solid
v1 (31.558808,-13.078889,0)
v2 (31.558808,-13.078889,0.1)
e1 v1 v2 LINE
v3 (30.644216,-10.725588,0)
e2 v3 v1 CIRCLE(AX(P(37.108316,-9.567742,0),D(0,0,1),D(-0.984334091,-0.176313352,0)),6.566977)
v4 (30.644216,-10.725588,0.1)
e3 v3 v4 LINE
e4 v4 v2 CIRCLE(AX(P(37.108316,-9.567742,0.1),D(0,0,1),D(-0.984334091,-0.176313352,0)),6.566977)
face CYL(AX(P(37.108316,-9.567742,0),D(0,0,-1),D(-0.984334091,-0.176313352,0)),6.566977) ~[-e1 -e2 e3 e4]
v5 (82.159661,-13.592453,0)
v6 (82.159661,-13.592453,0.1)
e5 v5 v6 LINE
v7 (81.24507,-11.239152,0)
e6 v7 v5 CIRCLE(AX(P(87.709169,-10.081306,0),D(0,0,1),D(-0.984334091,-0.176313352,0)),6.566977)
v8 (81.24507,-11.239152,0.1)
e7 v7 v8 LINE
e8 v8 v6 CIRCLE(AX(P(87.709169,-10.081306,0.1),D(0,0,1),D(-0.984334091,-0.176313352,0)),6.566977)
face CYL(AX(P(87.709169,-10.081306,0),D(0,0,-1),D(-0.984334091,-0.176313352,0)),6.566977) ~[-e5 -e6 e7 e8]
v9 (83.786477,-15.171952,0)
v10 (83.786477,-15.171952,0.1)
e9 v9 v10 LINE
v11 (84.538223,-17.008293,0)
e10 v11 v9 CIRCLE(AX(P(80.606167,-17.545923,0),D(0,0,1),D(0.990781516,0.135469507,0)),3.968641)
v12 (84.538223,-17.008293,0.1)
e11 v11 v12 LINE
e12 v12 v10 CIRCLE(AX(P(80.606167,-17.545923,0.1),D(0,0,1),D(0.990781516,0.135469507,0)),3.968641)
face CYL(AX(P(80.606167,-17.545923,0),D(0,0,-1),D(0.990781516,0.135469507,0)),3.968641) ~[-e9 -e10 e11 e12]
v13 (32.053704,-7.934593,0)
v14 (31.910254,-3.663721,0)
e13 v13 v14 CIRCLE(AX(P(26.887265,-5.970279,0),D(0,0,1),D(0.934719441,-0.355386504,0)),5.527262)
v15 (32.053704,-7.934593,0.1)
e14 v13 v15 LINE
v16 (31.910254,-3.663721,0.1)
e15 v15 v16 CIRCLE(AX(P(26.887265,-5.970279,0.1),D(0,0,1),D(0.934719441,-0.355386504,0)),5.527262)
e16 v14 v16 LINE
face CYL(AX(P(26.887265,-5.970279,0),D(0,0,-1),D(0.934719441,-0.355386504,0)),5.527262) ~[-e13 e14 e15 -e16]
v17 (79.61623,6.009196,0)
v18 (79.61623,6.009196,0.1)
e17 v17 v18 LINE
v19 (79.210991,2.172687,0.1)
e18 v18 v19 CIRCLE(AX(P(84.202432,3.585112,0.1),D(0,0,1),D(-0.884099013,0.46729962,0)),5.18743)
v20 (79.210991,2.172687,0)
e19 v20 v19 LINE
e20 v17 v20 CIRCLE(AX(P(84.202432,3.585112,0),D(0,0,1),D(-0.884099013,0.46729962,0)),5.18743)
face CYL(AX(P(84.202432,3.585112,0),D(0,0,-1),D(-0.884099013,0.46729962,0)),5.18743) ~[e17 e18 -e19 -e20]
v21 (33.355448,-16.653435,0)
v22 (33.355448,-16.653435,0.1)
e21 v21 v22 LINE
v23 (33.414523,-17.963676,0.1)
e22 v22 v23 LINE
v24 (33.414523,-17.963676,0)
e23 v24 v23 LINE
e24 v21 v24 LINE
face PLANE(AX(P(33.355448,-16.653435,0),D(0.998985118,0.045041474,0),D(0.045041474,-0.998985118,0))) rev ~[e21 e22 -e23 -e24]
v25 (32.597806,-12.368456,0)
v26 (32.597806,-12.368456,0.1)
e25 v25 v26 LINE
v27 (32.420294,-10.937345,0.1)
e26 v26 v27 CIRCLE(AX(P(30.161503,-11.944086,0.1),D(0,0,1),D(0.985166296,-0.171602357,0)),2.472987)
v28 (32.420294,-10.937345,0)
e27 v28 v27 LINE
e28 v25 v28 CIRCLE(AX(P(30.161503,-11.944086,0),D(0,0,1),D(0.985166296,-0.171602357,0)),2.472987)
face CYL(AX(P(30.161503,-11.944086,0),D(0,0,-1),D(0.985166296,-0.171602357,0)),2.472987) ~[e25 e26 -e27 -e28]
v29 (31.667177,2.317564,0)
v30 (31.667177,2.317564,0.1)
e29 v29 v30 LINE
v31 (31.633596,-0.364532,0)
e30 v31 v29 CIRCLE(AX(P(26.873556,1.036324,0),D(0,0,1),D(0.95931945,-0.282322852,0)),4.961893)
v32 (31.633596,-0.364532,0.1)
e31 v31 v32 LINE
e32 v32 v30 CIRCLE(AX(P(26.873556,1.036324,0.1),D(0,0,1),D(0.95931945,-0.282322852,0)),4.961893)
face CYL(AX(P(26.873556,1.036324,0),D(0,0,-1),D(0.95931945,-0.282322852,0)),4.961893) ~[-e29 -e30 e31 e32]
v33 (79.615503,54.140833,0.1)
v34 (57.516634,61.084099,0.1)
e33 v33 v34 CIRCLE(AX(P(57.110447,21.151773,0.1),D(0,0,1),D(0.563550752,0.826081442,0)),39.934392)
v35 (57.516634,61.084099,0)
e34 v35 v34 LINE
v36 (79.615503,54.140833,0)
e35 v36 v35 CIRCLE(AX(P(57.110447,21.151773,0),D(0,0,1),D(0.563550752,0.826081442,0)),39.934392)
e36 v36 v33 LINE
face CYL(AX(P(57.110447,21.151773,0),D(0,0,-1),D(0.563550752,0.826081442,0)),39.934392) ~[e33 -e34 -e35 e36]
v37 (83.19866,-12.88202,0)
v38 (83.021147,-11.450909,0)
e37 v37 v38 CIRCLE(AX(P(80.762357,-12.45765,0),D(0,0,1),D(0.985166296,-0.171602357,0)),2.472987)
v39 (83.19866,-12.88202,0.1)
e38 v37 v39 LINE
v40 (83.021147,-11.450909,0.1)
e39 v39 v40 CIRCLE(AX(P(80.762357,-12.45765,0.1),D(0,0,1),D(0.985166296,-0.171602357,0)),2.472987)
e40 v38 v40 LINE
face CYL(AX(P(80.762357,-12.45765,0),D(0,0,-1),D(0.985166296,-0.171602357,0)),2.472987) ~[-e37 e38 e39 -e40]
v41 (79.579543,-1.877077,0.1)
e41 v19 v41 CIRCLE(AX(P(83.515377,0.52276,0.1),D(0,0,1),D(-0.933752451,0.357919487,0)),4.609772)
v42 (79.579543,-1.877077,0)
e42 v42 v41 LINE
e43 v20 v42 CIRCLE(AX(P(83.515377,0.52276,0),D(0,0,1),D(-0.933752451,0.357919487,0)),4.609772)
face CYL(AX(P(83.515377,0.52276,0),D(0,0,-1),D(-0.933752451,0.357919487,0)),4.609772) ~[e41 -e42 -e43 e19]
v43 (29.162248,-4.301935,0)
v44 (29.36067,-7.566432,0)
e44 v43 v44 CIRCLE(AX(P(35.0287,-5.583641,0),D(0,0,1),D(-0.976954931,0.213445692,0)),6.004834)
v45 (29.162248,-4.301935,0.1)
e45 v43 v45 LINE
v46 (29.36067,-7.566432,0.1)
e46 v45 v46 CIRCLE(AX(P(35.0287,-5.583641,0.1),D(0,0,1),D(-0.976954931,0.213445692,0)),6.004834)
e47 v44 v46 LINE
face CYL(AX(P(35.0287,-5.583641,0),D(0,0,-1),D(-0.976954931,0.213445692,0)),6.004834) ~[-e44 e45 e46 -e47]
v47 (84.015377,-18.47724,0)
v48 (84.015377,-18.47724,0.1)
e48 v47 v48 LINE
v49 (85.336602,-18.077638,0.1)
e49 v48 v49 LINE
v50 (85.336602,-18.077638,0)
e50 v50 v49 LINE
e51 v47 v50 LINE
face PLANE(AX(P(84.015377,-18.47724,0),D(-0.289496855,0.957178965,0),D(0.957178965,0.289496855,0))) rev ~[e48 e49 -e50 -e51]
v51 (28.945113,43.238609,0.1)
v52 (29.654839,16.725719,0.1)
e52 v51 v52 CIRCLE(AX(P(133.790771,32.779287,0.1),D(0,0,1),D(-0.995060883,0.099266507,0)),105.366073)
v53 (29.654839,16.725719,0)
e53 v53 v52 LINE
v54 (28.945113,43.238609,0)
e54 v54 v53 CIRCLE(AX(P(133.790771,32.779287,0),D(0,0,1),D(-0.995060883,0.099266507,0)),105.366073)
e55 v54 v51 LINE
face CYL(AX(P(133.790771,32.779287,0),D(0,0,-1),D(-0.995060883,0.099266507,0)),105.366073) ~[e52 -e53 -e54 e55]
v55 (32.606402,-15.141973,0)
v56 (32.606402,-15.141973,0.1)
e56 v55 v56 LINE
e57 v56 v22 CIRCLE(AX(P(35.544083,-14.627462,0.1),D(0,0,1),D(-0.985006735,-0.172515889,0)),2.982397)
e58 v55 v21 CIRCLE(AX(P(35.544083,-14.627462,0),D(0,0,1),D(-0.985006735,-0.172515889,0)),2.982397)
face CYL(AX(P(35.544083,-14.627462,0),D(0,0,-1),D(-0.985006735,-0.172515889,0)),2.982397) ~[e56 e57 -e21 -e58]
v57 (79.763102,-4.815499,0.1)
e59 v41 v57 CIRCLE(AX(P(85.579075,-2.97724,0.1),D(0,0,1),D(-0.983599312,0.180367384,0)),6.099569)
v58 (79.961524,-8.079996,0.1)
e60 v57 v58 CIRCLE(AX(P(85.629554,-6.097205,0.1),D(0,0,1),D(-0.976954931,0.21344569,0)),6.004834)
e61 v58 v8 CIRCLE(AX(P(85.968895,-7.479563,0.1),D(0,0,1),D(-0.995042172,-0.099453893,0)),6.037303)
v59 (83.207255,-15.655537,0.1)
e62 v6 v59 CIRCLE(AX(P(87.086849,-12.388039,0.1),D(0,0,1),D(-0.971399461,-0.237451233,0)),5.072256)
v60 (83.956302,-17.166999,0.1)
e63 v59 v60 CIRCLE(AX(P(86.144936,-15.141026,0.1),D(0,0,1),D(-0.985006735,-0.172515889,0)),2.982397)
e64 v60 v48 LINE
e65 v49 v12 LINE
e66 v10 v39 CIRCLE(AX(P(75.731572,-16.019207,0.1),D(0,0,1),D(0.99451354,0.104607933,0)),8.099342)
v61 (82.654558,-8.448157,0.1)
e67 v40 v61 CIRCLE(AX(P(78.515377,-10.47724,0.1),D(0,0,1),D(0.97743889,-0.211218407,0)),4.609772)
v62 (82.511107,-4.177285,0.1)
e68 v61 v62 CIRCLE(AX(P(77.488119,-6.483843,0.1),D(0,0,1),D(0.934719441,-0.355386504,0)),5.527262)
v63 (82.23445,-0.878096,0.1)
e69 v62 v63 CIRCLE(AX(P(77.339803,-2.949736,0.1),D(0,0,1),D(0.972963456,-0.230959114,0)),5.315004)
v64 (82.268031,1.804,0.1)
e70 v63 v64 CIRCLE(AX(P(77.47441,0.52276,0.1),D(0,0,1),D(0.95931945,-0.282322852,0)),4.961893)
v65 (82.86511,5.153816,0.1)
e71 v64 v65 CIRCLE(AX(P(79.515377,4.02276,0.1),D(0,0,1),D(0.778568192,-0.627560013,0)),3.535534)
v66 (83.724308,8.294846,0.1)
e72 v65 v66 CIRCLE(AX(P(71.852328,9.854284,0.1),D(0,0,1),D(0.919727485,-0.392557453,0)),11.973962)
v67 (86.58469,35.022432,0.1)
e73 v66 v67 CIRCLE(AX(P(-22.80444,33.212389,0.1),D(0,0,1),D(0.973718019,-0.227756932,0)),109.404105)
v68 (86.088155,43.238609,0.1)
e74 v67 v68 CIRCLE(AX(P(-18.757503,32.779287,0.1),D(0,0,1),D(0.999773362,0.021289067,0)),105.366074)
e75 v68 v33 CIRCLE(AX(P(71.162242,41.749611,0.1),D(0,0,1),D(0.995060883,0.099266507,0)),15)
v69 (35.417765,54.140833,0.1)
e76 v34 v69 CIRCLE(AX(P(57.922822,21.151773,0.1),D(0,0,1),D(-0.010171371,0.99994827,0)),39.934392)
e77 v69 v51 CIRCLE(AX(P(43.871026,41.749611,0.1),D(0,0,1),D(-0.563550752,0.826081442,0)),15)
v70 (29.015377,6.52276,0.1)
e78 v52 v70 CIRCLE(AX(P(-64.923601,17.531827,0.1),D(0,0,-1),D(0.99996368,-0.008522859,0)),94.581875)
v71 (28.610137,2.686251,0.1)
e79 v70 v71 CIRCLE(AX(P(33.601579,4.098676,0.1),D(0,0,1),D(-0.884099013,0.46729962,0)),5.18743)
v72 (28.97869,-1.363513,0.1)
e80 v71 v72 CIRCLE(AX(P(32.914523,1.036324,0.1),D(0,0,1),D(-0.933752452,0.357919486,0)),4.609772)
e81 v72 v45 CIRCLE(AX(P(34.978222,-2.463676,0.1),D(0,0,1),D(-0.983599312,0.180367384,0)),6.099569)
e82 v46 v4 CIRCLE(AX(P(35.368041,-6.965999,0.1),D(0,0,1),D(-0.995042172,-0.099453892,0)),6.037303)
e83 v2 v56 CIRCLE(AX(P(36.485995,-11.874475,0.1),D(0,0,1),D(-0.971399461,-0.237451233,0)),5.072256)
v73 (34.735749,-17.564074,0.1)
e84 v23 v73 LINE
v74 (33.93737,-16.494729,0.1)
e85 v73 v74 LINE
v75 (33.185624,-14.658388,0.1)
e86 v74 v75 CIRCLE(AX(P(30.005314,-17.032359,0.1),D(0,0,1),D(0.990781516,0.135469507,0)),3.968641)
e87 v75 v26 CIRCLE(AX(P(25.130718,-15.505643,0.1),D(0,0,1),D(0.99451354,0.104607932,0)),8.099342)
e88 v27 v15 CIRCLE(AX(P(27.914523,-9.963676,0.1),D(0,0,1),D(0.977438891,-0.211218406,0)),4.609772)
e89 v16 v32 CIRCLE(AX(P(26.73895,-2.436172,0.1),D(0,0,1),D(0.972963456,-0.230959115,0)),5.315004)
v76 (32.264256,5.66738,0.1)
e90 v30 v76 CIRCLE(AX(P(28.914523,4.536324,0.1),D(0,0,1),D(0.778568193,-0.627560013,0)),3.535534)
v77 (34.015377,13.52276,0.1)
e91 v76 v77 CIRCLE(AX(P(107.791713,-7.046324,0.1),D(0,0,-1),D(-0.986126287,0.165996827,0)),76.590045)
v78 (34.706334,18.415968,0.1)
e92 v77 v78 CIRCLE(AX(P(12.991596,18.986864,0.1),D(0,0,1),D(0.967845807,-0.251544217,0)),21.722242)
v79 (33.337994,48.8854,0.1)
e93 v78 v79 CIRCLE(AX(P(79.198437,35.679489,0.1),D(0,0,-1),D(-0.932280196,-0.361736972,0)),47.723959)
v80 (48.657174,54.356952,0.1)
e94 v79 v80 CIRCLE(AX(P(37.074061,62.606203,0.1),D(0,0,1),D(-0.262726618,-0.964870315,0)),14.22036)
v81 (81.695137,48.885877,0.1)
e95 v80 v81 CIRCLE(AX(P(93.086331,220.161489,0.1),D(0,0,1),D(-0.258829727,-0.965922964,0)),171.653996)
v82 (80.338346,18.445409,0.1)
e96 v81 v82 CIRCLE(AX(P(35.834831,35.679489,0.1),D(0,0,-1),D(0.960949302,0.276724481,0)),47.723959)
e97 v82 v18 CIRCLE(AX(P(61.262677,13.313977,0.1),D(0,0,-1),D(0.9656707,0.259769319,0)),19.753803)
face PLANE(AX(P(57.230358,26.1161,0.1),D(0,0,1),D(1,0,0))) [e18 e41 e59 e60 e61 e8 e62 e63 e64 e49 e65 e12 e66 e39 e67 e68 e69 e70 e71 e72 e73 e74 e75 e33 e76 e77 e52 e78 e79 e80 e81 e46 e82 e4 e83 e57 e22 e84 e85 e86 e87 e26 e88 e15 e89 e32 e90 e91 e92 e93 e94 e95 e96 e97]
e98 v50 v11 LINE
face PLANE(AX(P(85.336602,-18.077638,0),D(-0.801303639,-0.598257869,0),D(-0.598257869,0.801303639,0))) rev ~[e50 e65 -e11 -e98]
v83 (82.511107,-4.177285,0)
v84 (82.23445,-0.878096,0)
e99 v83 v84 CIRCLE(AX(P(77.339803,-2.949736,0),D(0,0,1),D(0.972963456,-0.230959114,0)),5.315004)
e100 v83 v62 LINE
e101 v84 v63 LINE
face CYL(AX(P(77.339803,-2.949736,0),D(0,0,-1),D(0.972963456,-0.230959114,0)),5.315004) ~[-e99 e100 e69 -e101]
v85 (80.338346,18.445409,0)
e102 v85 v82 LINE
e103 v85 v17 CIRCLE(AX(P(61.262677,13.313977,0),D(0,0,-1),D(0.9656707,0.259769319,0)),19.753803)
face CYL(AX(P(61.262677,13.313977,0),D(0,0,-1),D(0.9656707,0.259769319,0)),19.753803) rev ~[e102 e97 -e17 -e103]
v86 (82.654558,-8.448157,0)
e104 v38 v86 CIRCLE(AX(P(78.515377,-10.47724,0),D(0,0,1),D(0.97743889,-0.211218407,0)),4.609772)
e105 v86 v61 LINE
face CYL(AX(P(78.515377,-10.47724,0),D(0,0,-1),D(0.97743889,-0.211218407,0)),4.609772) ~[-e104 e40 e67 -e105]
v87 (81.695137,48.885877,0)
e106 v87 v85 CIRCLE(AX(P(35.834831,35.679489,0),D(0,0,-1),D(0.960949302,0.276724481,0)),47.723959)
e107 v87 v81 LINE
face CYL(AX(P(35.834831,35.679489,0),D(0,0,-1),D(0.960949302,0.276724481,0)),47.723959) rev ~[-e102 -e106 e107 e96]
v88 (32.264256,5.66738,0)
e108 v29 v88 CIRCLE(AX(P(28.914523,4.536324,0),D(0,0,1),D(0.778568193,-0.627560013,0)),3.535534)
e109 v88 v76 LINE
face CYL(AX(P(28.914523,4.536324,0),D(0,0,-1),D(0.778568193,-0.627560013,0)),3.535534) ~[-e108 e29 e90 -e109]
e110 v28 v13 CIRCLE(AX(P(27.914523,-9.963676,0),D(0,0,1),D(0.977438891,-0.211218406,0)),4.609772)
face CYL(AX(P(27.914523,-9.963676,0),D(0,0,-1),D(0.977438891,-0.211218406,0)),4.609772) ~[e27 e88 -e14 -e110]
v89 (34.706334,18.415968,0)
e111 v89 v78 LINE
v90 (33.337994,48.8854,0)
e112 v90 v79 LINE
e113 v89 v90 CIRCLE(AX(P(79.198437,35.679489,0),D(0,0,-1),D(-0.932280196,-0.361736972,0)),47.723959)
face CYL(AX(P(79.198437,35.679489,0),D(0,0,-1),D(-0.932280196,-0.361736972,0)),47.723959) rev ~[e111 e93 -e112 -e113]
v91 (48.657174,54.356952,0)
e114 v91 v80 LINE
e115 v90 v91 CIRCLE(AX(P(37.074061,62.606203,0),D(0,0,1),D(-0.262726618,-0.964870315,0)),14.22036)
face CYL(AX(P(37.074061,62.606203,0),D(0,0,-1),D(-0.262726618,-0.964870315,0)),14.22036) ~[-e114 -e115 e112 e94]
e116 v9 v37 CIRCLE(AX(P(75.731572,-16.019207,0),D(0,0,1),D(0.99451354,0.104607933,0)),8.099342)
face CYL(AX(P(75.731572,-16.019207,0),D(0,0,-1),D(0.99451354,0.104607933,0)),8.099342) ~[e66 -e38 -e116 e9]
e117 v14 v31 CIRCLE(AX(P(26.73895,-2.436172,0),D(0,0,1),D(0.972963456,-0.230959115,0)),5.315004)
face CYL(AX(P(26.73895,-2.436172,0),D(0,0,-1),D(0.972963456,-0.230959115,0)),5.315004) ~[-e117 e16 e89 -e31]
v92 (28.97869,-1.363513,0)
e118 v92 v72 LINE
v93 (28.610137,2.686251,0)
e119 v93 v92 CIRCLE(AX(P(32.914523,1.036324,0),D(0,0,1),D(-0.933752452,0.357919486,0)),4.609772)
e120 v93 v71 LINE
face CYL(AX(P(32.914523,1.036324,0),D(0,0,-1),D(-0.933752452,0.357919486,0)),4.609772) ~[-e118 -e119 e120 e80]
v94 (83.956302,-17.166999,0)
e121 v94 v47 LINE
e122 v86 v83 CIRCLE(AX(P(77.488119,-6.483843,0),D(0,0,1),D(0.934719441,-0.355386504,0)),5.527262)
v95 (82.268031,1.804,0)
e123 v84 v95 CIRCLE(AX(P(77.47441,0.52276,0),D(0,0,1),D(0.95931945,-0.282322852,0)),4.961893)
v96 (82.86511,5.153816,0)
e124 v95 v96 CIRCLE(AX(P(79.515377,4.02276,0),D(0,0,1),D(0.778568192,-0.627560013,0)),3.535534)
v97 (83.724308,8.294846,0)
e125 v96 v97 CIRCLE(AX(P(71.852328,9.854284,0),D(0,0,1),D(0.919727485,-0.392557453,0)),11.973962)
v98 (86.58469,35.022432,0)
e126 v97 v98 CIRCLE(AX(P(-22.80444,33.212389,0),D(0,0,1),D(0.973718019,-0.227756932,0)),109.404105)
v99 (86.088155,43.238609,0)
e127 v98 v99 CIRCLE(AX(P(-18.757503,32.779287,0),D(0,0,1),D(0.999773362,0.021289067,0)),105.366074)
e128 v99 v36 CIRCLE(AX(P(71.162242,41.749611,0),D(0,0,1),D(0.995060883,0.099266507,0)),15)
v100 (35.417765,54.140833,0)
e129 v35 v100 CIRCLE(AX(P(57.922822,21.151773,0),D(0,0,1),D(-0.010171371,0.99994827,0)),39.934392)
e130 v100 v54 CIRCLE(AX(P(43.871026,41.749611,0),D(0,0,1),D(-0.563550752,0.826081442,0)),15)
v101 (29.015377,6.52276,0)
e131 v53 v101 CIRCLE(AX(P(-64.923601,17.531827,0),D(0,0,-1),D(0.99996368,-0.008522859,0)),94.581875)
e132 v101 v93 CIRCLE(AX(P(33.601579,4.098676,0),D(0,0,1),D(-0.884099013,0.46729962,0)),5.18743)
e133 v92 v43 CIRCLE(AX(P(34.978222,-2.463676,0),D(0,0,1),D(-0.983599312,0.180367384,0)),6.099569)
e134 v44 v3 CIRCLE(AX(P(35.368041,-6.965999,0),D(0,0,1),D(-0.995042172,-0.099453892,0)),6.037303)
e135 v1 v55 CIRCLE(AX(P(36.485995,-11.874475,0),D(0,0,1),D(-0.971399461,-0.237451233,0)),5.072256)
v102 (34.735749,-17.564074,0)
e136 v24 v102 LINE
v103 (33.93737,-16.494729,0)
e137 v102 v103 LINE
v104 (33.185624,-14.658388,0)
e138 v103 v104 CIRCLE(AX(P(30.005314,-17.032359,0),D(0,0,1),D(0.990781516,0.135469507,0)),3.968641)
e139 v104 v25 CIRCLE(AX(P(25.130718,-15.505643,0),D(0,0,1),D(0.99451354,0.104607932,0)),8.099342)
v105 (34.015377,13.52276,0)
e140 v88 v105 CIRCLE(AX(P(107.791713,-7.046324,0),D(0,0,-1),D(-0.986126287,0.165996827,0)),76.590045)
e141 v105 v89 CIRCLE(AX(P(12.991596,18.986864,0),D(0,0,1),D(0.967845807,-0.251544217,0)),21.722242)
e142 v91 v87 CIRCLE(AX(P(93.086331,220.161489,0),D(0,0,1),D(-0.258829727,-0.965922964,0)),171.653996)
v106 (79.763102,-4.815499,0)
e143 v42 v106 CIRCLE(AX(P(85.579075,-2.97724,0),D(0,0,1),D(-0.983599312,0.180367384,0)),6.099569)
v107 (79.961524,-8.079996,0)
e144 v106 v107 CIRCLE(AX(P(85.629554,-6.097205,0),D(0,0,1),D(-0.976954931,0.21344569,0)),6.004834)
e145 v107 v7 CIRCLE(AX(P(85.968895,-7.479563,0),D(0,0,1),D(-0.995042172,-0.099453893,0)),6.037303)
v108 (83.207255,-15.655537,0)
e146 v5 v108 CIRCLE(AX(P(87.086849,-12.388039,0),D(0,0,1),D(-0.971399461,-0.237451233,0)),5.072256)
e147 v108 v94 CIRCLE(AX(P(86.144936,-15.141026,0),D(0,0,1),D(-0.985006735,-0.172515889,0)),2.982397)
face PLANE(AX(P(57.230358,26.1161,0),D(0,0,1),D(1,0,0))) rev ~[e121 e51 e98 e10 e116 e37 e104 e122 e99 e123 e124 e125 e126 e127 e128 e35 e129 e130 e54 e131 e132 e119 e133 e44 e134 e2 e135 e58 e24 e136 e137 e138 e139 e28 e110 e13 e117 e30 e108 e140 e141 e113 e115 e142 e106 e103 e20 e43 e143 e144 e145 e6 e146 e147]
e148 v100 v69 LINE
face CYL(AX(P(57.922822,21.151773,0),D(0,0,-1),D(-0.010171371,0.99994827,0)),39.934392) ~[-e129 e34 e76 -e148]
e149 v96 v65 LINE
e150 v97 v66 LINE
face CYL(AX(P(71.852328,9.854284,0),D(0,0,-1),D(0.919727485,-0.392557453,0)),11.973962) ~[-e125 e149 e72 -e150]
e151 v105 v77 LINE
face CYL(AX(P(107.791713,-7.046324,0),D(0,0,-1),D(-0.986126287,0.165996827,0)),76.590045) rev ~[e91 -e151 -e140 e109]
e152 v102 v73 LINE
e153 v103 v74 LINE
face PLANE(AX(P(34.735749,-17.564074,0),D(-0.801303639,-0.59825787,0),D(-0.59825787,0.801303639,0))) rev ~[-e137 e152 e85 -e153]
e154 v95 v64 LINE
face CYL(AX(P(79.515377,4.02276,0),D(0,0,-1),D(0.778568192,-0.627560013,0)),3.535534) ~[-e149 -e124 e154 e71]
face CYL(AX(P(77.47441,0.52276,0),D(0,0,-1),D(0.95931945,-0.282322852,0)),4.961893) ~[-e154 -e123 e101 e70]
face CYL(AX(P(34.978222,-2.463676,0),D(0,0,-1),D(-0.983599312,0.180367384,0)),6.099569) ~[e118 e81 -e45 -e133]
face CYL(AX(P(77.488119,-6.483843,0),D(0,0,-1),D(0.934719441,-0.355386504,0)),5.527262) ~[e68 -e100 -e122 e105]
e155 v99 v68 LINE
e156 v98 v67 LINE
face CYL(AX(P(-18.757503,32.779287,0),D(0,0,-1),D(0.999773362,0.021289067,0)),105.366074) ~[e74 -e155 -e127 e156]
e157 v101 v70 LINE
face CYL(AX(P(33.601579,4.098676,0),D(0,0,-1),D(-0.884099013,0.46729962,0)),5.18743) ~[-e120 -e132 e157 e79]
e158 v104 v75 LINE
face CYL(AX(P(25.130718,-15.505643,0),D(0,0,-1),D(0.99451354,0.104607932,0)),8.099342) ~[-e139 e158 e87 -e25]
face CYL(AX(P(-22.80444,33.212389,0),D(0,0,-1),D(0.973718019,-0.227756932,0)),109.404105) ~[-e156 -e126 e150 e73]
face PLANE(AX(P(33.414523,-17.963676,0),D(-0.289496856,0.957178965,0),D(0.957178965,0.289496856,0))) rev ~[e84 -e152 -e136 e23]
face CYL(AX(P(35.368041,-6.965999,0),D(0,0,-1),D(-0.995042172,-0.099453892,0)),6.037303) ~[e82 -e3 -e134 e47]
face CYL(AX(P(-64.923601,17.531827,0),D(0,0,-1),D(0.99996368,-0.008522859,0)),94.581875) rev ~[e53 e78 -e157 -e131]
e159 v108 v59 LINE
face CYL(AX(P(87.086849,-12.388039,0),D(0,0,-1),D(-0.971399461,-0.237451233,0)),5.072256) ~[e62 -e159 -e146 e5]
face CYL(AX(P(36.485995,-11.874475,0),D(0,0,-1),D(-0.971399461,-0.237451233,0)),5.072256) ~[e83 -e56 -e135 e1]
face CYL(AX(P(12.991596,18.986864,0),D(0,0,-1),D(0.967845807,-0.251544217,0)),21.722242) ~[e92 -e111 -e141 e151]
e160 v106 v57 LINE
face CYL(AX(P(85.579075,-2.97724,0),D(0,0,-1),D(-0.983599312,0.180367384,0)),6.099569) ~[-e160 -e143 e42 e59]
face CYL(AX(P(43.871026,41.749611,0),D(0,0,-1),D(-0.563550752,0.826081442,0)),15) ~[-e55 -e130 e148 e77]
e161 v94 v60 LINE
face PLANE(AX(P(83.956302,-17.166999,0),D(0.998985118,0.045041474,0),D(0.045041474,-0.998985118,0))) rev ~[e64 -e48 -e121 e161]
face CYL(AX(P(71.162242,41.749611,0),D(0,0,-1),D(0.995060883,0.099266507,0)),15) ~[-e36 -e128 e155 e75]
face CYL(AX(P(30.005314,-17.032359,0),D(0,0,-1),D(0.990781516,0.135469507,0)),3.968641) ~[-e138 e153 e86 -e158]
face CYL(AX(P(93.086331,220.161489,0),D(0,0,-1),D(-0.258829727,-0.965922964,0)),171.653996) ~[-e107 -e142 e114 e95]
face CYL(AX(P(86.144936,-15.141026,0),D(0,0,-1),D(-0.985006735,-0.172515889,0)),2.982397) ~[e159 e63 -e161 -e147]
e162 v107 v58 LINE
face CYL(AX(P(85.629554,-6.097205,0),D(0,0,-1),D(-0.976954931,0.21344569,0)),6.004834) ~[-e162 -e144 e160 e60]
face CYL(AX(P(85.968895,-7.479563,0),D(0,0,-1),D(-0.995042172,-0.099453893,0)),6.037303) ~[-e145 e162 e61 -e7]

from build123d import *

# Parameters (mm, degrees)
SALIENTE_EXTRUIR1_DEPTH = 0.1


with BuildPart() as part:
    # Model → Saliente-Extruir1 (new body)
    with BuildSketch(Plane.XY):
        with BuildLine():
            Line((83.956301506, -17.166999348), (84.015376633, -18.477240051))
            Line((84.015376633, -18.477240051), (85.336602283, -18.077638007))
            Line((85.336602283, -18.077638007), (84.538223467, -17.008293358))
            ThreePointArc((84.538223467, -17.008293358), (84.278969465, -16.042382101), (83.786477348, -15.171951914))
            ThreePointArc((83.786477348, -15.171951914), (83.576571308, -14.005422888), (83.198659759, -12.8820203))
            ThreePointArc((83.198659759, -12.8820203), (83.21653602, -12.153238047), (83.021147285, -11.450908798))
            ThreePointArc((83.021147285, -11.450908798), (83.091174716, -9.918606089), (82.654557847, -8.448156791))
            ThreePointArc((82.654557847, -8.448156791), (83.012265392, -6.298296984), (82.511107342, -4.177284848))
            ThreePointArc((82.511107342, -4.177284848), (82.63621748, -2.505599358), (82.234450021, -0.878095799))
            ThreePointArc((82.234450021, -0.878095799), (82.435913685, 0.460640045), (82.268030876, 1.804000246))
            ThreePointArc((82.268030876, 1.804000246), (82.996051805, 3.402356573), (82.865109648, 5.153816414))
            ThreePointArc((82.865109648, 5.153816414), (83.401985842, 6.694986621), (83.724308061, 8.294846004))
            ThreePointArc((83.724308061, 8.294846004), (85.978479306, 21.570456798), (86.584690484, 35.022432042))
            ThreePointArc((86.584690484, 35.022432042), (86.416684054, 39.135370857), (86.088155048, 43.23860867))
            ThreePointArc((86.088155048, 43.23860867), (84.060345255, 49.407216919), (79.615503089, 54.140832704))
            ThreePointArc((79.615503089, 54.140832704), (69.080555659, 59.249963441), (57.51663409, 61.084098716))
            ThreePointArc((57.51663409, 61.084098716), (45.952712521, 59.249963441), (35.417765091, 54.140832704))
            ThreePointArc((35.417765091, 54.140832704), (30.972922925, 49.407216919), (28.945113132, 43.23860867))
            ThreePointArc((28.945113132, 43.23860867), (28.46242928, 29.95974371), (29.654838805, 16.72571946))
            ThreePointArc((29.654838805, 16.72571946), (29.473058184, 11.615593771), (29.015376633, 6.522759949))
            ThreePointArc((29.015376633, 6.522759949), (28.442846773, 4.643578134), (28.610136964, 2.6862512))
            ThreePointArc((28.610136964, 2.6862512), (28.323722373, 0.618533481), (28.978689788, -1.363512826))
            ThreePointArc((28.978689788, -1.363512826), (28.890519119, -2.843965116), (29.162248311, -4.30193504))
            ThreePointArc((29.162248311, -4.30193504), (29.034928035, -5.947952582), (29.360669993, -7.566432232))
            ThreePointArc((29.360669993, -7.566432232), (29.77476773, -9.238513166), (30.644216328, -10.725587717))
            ThreePointArc((30.644216328, -10.725587717), (30.987352099, -11.946605577), (31.558807946, -13.078888662))
            ThreePointArc((31.558807946, -13.078888662), (31.963393581, -14.170963904), (32.606401809, -15.141972807))
            ThreePointArc((32.606401809, -15.141972807), (32.871834994, -15.95176655), (33.355447957, -16.653435407))
            Line((33.355447957, -16.653435407), (33.414523084, -17.96367611))
            Line((33.414523084, -17.96367611), (34.735748735, -17.564074065))
            Line((34.735748735, -17.564074065), (33.937369918, -16.494729417))
            ThreePointArc((33.937369918, -16.494729417), (33.678115916, -15.52881816), (33.185623799, -14.658387973))
            ThreePointArc((33.185623799, -14.658387973), (32.97571776, -13.491858947), (32.59780621, -12.368456359))
            ThreePointArc((32.59780621, -12.368456359), (32.615682471, -11.639674106), (32.420293737, -10.937344857))
            ThreePointArc((32.420293737, -10.937344857), (32.490321167, -9.405042148), (32.053704298, -7.93459285))
            ThreePointArc((32.053704298, -7.93459285), (32.411411843, -5.784733043), (31.910253793, -3.663720907))
            ThreePointArc((31.910253793, -3.663720907), (32.035363932, -1.992035417), (31.633596472, -0.364531858))
            ThreePointArc((31.633596472, -0.364531858), (31.835060136, 0.974203986), (31.667177327, 2.317564187))
            ThreePointArc((31.667177327, 2.317564187), (32.395198256, 3.915920514), (32.2642561, 5.667380355))
            ThreePointArc((32.2642561, 5.667380355), (33.036563223, 9.618087334), (34.015376633, 13.522759949))
            ThreePointArc((34.015376633, 13.522759949), (34.500457554, 15.949651286), (34.706334447, 18.41596833))
            ThreePointArc((34.706334447, 18.41596833), (31.522529085, 33.538428771), (33.337993753, 48.885399624))
            ThreePointArc((33.337993753, 48.885399624), (41.857208532, 49.214409123), (48.657173595, 54.356951572))
            ThreePointArc((48.657173595, 54.356951572), (65.042417717, 50.813818289), (81.695137016, 48.885876802))
            ThreePointArc((81.695137016, 48.885876802), (83.511455819, 33.554448429), (80.338345767, 18.445408666))
            ThreePointArc((80.338345767, 18.445408666), (80.983262934, 12.168889843), (79.616230182, 6.009196008))
            ThreePointArc((79.616230182, 6.009196008), (79.043700322, 4.130014193), (79.210990513, 2.172687259))
            ThreePointArc((79.210990513, 2.172687259), (78.924575921, 0.10496954), (79.579543337, -1.877076767))
            ThreePointArc((79.579543337, -1.877076767), (79.491372668, -3.357529058), (79.763101859, -4.815498981))
            ThreePointArc((79.763101859, -4.815498981), (79.635781584, -6.461516523), (79.961523541, -8.079996173))
            ThreePointArc((79.961523541, -8.079996173), (80.375621279, -9.752077107), (81.245069877, -11.239151658))
            ThreePointArc((81.245069877, -11.239151658), (81.588205648, -12.460169518), (82.159661495, -13.592452603))
            ThreePointArc((82.159661495, -13.592452603), (82.56424713, -14.684527845), (83.207255358, -15.655536748))
            ThreePointArc((83.207255358, -15.655536748), (83.472688543, -16.465330491), (83.956301506, -17.166999348))
        make_face()
    extrude(amount=SALIENTE_EXTRUIR1_DEPTH)


solid = part.part
